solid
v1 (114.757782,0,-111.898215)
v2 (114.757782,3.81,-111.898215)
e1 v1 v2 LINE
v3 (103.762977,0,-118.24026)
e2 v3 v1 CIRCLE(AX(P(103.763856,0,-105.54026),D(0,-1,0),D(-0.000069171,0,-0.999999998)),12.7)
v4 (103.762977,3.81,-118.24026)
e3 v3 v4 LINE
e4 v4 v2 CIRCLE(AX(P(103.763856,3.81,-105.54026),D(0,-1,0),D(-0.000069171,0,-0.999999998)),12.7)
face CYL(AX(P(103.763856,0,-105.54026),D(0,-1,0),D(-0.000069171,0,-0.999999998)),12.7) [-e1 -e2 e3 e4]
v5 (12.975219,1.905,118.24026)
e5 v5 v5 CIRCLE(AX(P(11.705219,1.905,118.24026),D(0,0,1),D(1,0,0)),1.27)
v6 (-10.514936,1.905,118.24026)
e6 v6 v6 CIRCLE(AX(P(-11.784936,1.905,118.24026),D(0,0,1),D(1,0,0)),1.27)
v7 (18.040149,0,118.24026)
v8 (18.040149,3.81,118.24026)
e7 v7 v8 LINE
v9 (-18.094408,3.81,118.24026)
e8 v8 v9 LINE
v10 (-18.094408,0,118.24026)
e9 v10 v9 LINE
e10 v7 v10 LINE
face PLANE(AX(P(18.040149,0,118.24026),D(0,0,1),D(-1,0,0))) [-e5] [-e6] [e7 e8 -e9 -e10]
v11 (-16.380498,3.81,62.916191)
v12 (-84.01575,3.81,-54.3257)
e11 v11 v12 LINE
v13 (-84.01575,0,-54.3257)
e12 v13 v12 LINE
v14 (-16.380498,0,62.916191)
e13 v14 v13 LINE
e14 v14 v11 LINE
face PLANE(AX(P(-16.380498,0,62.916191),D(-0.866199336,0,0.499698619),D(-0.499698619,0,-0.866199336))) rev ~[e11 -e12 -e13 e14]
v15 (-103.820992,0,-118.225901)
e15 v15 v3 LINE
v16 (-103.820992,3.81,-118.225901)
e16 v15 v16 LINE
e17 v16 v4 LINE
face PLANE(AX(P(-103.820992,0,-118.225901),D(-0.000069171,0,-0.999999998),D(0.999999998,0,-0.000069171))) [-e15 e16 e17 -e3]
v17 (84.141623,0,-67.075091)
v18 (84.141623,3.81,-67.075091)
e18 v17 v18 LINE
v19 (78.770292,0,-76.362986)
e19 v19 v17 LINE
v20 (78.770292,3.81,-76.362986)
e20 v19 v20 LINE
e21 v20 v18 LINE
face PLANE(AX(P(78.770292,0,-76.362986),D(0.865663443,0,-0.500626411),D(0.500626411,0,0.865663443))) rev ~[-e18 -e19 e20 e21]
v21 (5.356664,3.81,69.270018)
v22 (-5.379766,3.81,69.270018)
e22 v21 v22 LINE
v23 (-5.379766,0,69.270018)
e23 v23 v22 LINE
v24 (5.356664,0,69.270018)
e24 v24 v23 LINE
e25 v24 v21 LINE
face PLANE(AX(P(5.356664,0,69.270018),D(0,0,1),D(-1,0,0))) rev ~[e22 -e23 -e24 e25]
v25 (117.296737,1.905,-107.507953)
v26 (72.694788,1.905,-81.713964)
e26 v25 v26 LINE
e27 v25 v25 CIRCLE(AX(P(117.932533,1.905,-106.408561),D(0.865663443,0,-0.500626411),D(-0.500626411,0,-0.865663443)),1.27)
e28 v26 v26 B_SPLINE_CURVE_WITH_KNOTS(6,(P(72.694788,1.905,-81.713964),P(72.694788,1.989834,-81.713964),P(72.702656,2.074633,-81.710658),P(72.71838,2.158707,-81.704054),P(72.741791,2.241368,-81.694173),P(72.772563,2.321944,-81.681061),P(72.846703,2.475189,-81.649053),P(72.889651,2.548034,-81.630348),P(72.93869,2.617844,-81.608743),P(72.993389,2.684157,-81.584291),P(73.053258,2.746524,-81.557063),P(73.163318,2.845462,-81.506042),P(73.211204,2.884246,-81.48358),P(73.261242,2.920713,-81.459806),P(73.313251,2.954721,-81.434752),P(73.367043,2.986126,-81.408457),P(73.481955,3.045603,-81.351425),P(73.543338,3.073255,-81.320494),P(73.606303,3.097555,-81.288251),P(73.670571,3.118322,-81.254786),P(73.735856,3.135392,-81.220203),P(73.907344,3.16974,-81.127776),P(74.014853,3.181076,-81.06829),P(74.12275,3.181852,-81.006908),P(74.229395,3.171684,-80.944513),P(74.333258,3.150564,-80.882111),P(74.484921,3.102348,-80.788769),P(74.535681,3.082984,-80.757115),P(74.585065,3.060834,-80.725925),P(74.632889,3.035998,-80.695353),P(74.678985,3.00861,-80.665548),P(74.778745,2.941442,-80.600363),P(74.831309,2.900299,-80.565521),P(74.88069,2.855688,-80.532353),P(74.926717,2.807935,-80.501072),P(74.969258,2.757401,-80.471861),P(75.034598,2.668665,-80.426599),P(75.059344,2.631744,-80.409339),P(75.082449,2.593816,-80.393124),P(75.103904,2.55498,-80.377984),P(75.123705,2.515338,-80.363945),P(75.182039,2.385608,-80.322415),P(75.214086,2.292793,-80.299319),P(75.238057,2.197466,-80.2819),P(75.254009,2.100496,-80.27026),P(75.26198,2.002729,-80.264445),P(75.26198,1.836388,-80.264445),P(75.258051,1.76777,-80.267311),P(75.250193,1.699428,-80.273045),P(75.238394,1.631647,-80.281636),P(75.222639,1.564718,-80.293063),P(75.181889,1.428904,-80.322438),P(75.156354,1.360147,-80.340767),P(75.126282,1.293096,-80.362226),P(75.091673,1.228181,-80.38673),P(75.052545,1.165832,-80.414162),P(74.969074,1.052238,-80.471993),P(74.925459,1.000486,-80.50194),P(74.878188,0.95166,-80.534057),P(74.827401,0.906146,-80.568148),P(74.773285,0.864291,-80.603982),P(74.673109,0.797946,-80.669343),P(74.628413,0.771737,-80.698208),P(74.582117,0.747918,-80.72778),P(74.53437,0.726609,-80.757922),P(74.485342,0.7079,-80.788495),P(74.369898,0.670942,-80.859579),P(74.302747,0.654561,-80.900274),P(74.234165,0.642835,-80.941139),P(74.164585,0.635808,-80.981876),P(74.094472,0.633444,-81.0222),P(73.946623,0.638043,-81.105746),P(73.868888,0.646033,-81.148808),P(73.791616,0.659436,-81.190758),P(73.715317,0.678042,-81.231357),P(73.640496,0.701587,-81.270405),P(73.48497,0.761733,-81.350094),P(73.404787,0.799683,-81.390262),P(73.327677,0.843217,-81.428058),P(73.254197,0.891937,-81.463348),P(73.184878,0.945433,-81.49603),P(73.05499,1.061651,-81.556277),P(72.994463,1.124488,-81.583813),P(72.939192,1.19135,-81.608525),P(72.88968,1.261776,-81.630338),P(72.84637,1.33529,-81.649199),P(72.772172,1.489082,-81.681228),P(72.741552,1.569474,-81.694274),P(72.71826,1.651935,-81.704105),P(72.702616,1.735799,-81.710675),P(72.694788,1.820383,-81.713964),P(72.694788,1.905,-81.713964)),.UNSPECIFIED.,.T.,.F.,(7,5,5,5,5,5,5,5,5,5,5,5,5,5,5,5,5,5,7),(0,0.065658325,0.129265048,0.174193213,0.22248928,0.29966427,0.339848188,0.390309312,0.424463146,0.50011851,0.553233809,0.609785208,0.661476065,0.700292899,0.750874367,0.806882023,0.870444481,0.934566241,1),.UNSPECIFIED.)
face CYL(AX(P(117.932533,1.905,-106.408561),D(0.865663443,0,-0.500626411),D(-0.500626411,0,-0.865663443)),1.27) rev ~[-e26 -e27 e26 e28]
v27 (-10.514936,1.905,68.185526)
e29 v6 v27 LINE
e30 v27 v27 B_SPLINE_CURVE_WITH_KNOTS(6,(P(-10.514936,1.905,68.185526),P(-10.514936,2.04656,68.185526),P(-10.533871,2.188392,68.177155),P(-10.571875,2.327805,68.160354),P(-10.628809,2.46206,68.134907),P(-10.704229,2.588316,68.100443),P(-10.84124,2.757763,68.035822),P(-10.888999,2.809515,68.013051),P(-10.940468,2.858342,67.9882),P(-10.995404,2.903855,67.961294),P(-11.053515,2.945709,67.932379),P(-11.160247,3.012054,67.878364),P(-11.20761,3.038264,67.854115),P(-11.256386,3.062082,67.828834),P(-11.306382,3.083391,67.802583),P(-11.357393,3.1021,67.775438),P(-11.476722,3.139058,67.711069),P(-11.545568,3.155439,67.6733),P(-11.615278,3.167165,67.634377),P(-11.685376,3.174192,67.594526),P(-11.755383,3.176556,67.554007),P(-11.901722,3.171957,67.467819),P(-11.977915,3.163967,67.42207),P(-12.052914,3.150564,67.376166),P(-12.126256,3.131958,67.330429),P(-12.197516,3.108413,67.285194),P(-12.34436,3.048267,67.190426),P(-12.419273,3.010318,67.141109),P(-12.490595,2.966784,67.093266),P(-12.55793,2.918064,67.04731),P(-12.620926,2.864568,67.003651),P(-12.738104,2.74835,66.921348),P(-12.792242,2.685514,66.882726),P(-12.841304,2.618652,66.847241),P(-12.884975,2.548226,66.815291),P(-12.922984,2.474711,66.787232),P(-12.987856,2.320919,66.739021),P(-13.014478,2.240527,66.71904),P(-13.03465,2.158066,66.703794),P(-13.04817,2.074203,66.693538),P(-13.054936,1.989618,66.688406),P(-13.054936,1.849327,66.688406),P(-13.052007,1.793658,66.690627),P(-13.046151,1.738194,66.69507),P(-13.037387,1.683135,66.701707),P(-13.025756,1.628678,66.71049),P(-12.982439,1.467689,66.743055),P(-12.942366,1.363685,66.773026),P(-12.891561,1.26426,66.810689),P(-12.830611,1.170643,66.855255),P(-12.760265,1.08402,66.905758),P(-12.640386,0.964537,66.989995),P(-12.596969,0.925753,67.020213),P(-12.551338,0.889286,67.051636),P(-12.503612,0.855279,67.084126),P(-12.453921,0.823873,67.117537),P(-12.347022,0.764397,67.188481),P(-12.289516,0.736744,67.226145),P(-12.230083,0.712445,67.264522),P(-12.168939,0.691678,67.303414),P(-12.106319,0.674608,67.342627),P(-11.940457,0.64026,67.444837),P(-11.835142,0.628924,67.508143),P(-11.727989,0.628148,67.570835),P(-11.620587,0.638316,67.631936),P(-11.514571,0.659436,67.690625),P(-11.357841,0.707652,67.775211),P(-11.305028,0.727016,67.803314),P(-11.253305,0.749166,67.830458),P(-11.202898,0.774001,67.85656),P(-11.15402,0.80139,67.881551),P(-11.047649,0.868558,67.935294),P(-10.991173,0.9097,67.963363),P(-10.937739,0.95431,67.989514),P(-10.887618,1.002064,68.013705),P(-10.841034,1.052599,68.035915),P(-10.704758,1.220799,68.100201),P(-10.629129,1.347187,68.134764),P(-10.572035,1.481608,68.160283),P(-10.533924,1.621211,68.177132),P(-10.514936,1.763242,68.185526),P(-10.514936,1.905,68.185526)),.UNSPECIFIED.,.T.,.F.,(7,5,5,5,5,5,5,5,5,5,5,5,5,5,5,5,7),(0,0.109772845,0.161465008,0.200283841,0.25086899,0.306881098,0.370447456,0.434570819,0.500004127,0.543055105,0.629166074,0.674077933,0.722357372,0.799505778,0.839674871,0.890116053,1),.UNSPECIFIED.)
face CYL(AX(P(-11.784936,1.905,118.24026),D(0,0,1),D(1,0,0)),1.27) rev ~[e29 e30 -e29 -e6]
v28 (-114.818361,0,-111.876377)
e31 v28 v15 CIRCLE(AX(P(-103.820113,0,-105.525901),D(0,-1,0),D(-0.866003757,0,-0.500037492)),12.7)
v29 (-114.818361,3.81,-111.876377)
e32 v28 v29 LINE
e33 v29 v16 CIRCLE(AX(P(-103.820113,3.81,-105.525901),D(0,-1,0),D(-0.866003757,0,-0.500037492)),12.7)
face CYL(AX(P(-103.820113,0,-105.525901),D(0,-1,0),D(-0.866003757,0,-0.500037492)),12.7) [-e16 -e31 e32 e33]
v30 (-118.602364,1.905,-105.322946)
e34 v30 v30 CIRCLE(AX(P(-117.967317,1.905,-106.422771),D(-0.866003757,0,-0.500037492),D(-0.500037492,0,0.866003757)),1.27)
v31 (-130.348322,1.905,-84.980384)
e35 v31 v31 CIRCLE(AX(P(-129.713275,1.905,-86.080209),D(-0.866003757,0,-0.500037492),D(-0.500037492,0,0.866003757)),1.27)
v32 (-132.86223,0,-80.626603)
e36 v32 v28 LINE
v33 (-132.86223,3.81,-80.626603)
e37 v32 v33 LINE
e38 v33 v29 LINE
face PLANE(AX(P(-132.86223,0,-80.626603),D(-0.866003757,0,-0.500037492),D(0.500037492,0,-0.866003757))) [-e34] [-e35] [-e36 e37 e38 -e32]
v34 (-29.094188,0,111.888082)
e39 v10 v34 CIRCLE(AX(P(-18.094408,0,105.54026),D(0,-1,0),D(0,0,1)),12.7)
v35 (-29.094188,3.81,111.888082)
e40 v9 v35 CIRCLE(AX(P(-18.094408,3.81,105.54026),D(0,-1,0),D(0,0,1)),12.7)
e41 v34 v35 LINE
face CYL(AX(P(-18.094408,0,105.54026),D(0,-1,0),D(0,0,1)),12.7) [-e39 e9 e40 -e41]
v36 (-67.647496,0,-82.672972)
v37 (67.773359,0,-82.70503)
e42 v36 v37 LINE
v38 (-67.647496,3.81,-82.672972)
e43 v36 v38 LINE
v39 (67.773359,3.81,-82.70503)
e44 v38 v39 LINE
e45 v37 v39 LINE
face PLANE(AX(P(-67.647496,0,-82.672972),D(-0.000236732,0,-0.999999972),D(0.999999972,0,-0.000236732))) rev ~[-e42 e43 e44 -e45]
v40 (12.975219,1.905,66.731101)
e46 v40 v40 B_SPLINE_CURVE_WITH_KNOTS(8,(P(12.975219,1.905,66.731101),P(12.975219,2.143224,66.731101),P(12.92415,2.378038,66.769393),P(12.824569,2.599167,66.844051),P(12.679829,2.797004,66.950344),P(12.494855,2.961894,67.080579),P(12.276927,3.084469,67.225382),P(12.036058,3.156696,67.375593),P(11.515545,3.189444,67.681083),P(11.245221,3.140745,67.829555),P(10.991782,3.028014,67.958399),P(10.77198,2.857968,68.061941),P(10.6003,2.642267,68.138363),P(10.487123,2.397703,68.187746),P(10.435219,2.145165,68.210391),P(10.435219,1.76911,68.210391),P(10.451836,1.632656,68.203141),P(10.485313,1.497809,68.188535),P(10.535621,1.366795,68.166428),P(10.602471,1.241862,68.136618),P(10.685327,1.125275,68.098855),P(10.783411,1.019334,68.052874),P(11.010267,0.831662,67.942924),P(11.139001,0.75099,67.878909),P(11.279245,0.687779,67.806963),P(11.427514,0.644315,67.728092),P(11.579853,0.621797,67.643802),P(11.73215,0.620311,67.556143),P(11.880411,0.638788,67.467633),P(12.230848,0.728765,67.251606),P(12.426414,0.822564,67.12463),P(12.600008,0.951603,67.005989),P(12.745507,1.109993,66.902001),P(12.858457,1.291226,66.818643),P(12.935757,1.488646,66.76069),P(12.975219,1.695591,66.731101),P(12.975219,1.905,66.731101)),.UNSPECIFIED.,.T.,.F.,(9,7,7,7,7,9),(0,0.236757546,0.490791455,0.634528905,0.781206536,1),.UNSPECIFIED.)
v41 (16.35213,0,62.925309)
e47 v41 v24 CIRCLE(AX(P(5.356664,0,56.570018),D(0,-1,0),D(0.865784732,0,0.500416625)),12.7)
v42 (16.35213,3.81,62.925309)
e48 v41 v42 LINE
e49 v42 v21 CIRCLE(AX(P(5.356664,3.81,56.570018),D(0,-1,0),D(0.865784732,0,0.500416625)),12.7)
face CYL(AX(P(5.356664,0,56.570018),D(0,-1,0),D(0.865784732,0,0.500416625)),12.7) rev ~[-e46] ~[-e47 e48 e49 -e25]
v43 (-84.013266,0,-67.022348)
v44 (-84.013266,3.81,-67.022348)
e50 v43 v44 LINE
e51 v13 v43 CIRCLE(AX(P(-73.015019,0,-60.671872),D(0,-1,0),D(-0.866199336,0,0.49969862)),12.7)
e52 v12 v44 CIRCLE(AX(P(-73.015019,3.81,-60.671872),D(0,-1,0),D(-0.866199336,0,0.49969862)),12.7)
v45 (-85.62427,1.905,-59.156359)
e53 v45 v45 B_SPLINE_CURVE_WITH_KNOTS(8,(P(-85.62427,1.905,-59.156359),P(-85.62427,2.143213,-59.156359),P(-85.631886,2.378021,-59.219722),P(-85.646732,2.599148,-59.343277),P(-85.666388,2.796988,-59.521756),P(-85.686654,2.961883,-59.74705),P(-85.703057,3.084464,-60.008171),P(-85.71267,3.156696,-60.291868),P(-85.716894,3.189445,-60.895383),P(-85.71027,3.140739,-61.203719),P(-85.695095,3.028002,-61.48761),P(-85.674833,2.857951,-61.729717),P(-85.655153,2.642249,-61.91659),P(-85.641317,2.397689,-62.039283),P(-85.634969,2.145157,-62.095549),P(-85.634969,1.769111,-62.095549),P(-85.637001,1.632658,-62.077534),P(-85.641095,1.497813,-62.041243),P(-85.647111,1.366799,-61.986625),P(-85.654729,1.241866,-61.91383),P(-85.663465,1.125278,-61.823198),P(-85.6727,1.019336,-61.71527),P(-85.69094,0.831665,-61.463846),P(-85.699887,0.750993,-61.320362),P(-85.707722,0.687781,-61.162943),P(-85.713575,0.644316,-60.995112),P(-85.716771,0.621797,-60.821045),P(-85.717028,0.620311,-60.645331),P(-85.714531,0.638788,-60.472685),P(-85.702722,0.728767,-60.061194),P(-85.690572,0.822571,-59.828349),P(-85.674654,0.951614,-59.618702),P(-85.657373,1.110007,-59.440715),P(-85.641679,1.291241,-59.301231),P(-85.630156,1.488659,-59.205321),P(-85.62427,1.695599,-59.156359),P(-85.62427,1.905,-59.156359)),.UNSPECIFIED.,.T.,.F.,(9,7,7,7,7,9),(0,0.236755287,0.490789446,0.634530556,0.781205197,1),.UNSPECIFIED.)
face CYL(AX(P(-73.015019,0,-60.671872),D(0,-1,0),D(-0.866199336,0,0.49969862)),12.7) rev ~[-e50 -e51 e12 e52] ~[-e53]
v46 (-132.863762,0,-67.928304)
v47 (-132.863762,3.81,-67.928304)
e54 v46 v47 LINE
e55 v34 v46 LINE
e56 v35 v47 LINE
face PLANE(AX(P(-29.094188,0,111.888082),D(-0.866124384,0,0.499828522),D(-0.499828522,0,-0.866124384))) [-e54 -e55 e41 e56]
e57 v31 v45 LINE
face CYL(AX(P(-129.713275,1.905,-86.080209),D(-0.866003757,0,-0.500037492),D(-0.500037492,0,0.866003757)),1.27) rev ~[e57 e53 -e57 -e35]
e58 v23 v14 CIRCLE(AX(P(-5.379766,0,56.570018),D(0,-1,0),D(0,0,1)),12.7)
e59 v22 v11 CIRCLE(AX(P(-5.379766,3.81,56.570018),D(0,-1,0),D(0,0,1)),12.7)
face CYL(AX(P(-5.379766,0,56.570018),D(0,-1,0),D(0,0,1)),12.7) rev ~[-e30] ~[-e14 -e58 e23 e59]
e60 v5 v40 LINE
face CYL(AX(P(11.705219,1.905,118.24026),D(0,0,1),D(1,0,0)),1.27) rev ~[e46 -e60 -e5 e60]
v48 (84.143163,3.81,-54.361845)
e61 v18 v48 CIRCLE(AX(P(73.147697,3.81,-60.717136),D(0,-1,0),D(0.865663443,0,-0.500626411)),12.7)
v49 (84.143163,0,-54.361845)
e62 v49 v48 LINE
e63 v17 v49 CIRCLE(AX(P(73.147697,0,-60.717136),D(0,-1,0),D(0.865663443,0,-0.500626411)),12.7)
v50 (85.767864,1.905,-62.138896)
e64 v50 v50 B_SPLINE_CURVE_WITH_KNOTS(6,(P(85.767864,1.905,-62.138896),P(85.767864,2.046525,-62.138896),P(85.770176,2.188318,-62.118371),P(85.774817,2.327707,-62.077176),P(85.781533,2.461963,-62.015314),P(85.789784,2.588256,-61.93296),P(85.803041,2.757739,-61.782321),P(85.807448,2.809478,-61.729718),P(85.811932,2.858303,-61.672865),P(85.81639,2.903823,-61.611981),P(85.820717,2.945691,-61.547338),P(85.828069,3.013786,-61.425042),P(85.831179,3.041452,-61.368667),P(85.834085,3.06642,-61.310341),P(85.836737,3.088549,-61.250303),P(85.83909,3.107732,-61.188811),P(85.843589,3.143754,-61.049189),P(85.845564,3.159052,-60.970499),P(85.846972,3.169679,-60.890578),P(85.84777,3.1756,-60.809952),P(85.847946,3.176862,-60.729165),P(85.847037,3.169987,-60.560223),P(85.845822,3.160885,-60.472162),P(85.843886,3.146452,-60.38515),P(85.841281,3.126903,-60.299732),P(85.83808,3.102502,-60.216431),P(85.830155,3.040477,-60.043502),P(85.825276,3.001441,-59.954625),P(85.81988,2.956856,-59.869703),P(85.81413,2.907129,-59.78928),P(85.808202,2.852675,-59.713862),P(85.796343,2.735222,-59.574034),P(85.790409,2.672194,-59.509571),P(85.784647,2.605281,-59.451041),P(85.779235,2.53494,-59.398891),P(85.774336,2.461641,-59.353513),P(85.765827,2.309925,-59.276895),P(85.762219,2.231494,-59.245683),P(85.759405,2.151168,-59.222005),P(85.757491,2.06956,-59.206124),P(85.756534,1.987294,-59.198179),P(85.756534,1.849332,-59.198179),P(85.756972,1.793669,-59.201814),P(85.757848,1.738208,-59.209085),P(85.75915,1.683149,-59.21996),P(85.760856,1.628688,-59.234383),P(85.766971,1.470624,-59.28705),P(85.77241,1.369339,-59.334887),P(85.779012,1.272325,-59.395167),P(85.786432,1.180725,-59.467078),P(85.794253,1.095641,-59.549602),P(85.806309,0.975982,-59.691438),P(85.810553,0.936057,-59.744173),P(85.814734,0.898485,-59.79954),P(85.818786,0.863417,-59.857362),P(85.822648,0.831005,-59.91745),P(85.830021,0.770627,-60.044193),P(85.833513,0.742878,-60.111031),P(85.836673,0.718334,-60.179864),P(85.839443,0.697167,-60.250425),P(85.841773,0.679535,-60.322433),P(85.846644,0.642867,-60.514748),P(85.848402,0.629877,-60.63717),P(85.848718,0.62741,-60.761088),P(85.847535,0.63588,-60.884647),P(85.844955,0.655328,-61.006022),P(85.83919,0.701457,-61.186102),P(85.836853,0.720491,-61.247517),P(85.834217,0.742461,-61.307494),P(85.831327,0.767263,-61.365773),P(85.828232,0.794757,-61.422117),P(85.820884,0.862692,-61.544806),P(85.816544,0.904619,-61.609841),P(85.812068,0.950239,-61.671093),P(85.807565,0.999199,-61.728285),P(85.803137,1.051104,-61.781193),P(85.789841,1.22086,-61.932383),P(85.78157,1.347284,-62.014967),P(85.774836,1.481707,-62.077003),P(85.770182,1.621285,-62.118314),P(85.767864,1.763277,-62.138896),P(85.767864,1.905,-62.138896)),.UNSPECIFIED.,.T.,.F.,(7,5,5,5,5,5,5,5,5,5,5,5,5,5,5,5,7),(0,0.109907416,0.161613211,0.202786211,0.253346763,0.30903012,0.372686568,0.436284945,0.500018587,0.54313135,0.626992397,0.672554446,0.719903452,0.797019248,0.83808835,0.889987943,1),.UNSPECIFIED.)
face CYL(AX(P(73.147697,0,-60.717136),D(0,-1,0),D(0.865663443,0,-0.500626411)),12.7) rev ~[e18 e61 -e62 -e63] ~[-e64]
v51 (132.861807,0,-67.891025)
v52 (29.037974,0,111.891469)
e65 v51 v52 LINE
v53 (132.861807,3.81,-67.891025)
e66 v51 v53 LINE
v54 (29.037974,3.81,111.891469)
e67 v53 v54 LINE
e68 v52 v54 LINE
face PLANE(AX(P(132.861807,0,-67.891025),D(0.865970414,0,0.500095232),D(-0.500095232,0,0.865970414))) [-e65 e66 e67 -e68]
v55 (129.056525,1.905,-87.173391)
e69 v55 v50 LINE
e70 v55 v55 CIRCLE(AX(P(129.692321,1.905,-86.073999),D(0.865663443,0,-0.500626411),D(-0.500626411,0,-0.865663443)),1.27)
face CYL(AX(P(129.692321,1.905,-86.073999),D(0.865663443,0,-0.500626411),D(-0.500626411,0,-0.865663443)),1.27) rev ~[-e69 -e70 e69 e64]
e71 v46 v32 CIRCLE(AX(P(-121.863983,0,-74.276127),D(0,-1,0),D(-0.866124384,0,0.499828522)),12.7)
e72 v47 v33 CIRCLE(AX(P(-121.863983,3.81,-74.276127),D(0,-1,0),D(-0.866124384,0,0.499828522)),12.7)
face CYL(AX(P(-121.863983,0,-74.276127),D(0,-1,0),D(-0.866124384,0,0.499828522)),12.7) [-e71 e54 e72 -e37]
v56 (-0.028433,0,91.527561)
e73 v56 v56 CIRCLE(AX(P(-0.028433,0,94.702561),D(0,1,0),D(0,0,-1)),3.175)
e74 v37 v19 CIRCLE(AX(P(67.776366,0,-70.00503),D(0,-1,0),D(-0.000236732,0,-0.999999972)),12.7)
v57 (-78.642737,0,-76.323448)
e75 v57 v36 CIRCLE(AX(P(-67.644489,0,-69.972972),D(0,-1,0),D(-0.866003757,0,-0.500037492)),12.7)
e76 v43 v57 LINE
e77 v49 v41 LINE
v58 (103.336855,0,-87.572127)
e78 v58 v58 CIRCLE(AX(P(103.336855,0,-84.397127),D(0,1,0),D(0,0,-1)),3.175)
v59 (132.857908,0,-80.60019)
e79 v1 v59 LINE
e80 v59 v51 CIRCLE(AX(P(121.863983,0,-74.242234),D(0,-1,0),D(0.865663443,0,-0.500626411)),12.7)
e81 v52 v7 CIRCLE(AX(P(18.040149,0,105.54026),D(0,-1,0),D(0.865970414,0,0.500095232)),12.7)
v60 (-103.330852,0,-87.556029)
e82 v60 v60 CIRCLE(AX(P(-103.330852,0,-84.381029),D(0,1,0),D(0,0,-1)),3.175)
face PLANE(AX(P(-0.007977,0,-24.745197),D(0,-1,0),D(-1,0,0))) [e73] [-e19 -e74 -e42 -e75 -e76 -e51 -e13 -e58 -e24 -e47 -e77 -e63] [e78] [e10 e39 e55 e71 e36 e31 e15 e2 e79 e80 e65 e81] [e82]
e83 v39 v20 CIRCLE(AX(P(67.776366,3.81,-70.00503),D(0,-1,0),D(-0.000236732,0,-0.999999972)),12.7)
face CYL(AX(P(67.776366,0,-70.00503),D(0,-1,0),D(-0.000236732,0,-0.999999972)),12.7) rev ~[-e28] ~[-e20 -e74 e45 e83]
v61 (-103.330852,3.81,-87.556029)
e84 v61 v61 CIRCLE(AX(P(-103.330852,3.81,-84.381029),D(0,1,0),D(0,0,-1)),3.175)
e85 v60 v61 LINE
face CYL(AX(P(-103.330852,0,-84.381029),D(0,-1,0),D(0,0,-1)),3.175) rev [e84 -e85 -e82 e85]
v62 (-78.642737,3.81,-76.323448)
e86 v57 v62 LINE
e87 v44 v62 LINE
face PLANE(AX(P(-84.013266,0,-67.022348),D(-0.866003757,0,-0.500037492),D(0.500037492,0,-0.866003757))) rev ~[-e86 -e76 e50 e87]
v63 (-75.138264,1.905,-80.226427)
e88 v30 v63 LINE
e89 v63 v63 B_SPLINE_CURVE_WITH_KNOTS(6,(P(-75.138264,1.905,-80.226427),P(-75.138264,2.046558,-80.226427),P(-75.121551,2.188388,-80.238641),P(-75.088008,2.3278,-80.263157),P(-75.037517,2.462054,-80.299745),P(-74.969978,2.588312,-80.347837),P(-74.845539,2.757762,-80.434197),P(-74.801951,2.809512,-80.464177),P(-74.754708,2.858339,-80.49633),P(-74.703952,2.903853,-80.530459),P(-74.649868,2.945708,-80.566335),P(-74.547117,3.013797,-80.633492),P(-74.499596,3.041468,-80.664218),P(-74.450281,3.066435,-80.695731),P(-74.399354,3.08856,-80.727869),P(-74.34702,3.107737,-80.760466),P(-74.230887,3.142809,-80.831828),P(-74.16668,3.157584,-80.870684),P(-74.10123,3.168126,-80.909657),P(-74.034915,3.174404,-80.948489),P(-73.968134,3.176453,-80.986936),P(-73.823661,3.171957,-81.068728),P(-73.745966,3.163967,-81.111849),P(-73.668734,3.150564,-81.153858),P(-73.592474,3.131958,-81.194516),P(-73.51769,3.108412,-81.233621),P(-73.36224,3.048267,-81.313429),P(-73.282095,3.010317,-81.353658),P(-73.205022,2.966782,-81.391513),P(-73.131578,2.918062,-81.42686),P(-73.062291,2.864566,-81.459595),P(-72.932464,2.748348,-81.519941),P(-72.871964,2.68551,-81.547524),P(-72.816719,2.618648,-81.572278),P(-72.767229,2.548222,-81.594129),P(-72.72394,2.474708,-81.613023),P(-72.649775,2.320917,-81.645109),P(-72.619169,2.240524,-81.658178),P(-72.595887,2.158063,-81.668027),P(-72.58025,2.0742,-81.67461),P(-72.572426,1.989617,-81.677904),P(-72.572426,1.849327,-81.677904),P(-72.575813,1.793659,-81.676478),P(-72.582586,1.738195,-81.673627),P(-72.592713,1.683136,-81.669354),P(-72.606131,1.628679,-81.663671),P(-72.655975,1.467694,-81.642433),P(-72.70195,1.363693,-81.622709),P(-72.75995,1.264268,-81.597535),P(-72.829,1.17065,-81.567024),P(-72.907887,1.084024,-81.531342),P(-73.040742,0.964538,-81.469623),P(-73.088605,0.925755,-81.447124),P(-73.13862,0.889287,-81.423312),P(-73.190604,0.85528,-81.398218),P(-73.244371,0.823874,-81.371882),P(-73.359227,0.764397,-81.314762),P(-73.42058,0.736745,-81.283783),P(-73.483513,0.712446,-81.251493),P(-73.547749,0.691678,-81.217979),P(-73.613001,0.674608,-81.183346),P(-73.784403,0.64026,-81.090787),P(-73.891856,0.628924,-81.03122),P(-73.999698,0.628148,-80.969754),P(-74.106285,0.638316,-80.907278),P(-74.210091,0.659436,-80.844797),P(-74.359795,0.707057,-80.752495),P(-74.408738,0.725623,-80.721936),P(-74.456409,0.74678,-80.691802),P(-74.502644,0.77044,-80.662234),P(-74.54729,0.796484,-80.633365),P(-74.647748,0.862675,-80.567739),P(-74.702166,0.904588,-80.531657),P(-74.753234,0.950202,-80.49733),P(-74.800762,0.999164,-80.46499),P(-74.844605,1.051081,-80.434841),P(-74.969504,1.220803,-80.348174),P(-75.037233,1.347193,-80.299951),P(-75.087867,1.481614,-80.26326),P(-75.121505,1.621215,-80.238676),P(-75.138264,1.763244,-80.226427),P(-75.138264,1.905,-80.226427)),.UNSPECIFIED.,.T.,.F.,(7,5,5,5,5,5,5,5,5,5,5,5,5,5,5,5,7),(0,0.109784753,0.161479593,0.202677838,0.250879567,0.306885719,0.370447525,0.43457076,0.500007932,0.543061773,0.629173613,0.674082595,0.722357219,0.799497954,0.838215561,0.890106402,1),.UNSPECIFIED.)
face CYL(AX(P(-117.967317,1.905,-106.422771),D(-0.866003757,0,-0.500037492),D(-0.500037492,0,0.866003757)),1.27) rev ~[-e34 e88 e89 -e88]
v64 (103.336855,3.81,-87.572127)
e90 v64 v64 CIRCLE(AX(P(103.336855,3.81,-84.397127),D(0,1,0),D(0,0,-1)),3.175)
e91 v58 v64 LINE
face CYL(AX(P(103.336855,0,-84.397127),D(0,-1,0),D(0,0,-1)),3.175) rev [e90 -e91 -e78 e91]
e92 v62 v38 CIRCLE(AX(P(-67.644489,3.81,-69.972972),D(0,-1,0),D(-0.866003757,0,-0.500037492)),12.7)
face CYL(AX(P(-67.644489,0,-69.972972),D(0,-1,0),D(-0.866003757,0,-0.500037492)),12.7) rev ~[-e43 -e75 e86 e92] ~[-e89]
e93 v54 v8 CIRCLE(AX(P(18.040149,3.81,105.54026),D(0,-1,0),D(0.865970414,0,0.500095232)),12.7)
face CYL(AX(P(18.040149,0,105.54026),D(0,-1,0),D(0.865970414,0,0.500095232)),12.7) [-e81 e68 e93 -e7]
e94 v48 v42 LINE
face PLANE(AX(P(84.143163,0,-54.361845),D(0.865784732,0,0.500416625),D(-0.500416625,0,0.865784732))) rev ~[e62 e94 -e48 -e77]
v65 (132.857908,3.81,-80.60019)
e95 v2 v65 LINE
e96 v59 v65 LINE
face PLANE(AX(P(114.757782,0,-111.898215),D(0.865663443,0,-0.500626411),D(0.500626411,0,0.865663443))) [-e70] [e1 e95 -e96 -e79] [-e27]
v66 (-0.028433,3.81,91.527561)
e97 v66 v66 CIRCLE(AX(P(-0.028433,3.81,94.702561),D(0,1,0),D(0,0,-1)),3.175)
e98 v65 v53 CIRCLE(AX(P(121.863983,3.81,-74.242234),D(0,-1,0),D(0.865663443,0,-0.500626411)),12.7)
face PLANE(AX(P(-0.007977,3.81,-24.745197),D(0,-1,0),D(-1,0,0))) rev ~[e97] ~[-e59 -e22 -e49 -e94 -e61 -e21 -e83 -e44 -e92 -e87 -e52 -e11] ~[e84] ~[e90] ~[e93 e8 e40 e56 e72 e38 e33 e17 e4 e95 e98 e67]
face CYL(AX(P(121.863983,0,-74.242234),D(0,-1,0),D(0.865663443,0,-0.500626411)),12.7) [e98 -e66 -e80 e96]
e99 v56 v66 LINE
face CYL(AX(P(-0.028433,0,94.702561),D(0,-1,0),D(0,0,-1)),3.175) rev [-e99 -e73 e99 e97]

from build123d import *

# Parameters (mm, degrees)
SKETCH1_R           = 3.175
BOSS_EXTRUDE1_DEPTH = 3.81
CUT_EXTRUDE1_REACH  = 334.908
SKETCH3_R           = 1.27
CUT_EXTRUDE2_REACH  = 274.112
SKETCH5_R           = 1.27
CUT_EXTRUDE3_REACH  = 334.911
SKETCH6_R           = 1.27


with BuildPart() as part:
    # Sketch1 → Boss-Extrude1 (new body)
    with BuildSketch(Plane(origin=(0, 0, 0), x_dir=(1, 0, 0), z_dir=(0, 1, 0))):
        with BuildLine():
            Line((-132.862230357, 80.626602679), (-114.818360917, 111.876376892))
            ThreePointArc((-114.818360917, 111.876376892), (-110.170255519, 116.524341207), (-103.82099168, 118.225900714))
            Line((-103.82099168, 118.225900714), (103.762977343, 118.240259528))
            ThreePointArc((103.762977343, 118.240259528), (110.109496385, 116.541297953), (114.757781541, 111.898214981))
            Line((114.757781541, 111.898214981), (132.857908371, 80.600189632))
            ThreePointArc((132.857908371, 80.600189632), (134.563982049, 74.246129937), (132.86180691, 67.891024761))
            Line((132.86180691, 67.891024761), (29.0379736, -111.891469007))
            ThreePointArc((29.0379736, -111.891469007), (24.389544583, -116.539131318), (18.040149336, -118.240259558))
            Line((18.040149336, -118.240259558), (-18.094408415, -118.240259558))
            ThreePointArc((-18.094408415, -118.240259558), (-24.445497205, -116.538153501), (-29.09418809, -111.888081791))
            Line((-29.09418809, -111.888081791), (-132.863762321, 67.928304298))
            ThreePointArc((-132.863762321, 67.928304298), (-134.563982554, 74.277658701), (-132.862230357, 80.626602679))
        make_face()
        with Locations(Location((-103.330851621, 84.381028983, 0), (0, 0, 90))):
            Circle(SKETCH1_R, mode=Mode.SUBTRACT)
        with Locations(Location((-0.028433279, -94.702561062, 0), (0, 0, 90))):
            Circle(SKETCH1_R, mode=Mode.SUBTRACT)
        with Locations(Location((103.336854698, 84.397127461, 0), (0, 0, 90))):
            Circle(SKETCH1_R, mode=Mode.SUBTRACT)
        with BuildLine():
            Line((-84.013266269, 67.022348434), (-78.642736989, 76.323448067))
            ThreePointArc((-78.642736989, 76.323448067), (-73.995553024, 80.970880326), (-67.647495776, 82.672971564))
            Line((-67.647495776, 82.672971564), (67.773359352, 82.705030032))
            ThreePointArc((67.773359352, 82.705030032), (74.121084724, 81.006600385), (78.770291575, 76.36298581))
            Line((78.770291575, 76.36298581), (84.141622987, 67.075091406))
            ThreePointArc((84.141622987, 67.075091406), (85.847697169, 60.718674744), (84.143163353, 54.361844845))
            Line((84.143163353, 54.361844845), (16.352129804, -62.925309178))
            ThreePointArc((16.352129804, -62.925309178), (11.704017593, -67.570067982), (5.356663713, -69.27001804))
            Line((5.356663713, -69.27001804), (-5.379766134, -69.27001804))
            ThreePointArc((-5.379766134, -69.27001804), (-11.731679612, -67.567435699), (-16.380497701, -62.916190507))
            Line((-16.380497701, -62.916190507), (-84.015750126, 54.325699819))
            ThreePointArc((-84.015750126, 54.325699819), (-85.715018316, 60.674356799), (-84.013266269, 67.022348434))
        make_face(mode=Mode.SUBTRACT)
    extrude(amount=BOSS_EXTRUDE1_DEPTH)

    # Sketch3 → Cut-Extrude1 (cut, up to next)
    with BuildSketch(Plane(origin=(134.490180652, 0, -77.777728789), x_dir=(-0.5006264112230908, 0, -0.8656634429071663), z_dir=(0.8656634429071663, 0, -0.5006264112230908)), mode=Mode.PRIVATE) as cut_extrude1_sk1:
        with Locations((9.583713099, 1.905)):
            Circle(SKETCH3_R)
    cut_extrude1_tool1 = extrude(cut_extrude1_sk1.sketch, amount=-CUT_EXTRUDE1_REACH, mode=Mode.PRIVATE) & part.part
    # Sketch3 → Cut-Extrude1 (cut, up to next)
    with BuildSketch(Plane(origin=(134.490180652, 0, -77.777728789), x_dir=(-0.5006264112230908, 0, -0.8656634429071663), z_dir=(0.8656634429071663, 0, -0.5006264112230908)), mode=Mode.PRIVATE) as cut_extrude1_sk2:
        with Locations((33.073860572, 1.905)):
            Circle(SKETCH3_R)
    cut_extrude1_tool2 = extrude(cut_extrude1_sk2.sketch, amount=-CUT_EXTRUDE1_REACH, mode=Mode.PRIVATE) & part.part
    add(cut_extrude1_tool1.solids().sort_by_distance((129.692321, 1.905, -86.073999))[0], mode=Mode.SUBTRACT)
    add(cut_extrude1_tool2.solids().sort_by_distance((117.932533, 1.905, -106.408561))[0], mode=Mode.SUBTRACT)

    # Sketch5 → Cut-Extrude2 (cut, up to next)
    with BuildSketch(Plane.XY.offset(118.240259558), mode=Mode.PRIVATE) as cut_extrude2_sk1:
        with Locations((-11.784935705, 1.905)):
            Circle(SKETCH5_R)
    cut_extrude2_tool1 = extrude(cut_extrude2_sk1.sketch, amount=-CUT_EXTRUDE2_REACH, mode=Mode.PRIVATE) & part.part
    # Sketch5 → Cut-Extrude2 (cut, up to next)
    with BuildSketch(Plane.XY.offset(118.240259558), mode=Mode.PRIVATE) as cut_extrude2_sk2:
        with Locations((11.705218914, 1.905)):
            Circle(SKETCH5_R)
    cut_extrude2_tool2 = extrude(cut_extrude2_sk2.sketch, amount=-CUT_EXTRUDE2_REACH, mode=Mode.PRIVATE) & part.part
    add(cut_extrude2_tool1.solids().sort_by_distance((-11.784936, 1.905, 118.24026))[0], mode=Mode.SUBTRACT)
    add(cut_extrude2_tool2.solids().sort_by_distance((11.705219, 1.905, 118.24026))[0], mode=Mode.SUBTRACT)

    # Sketch6 → Cut-Extrude3 (cut, up to next)
    with BuildSketch(Plane(origin=(-134.555779523, 0, -77.693582727), x_dir=(-0.500037491916206, 0, 0.8660037567344326), z_dir=(-0.8660037567344328, 0, -0.500037491916206)), mode=Mode.PRIVATE) as cut_extrude3_sk1:
        with Locations((-33.174438242, 1.905)):
            Circle(SKETCH6_R)
    cut_extrude3_tool1 = extrude(cut_extrude3_sk1.sketch, amount=-CUT_EXTRUDE3_REACH, mode=Mode.PRIVATE) & part.part
    # Sketch6 → Cut-Extrude3 (cut, up to next)
    with BuildSketch(Plane(origin=(-134.555779523, 0, -77.693582727), x_dir=(-0.500037491916206, 0, 0.8660037567344326), z_dir=(-0.8660037567344328, 0, -0.500037491916206)), mode=Mode.PRIVATE) as cut_extrude3_sk2:
        with Locations((-9.684283586, 1.905)):
            Circle(SKETCH6_R)
    cut_extrude3_tool2 = extrude(cut_extrude3_sk2.sketch, amount=-CUT_EXTRUDE3_REACH, mode=Mode.PRIVATE) & part.part
    add(cut_extrude3_tool1.solids().sort_by_distance((-117.967317, 1.905, -106.422771))[0], mode=Mode.SUBTRACT)
    add(cut_extrude3_tool2.solids().sort_by_distance((-129.713275, 1.905, -86.080209))[0], mode=Mode.SUBTRACT)


solid = part.part
